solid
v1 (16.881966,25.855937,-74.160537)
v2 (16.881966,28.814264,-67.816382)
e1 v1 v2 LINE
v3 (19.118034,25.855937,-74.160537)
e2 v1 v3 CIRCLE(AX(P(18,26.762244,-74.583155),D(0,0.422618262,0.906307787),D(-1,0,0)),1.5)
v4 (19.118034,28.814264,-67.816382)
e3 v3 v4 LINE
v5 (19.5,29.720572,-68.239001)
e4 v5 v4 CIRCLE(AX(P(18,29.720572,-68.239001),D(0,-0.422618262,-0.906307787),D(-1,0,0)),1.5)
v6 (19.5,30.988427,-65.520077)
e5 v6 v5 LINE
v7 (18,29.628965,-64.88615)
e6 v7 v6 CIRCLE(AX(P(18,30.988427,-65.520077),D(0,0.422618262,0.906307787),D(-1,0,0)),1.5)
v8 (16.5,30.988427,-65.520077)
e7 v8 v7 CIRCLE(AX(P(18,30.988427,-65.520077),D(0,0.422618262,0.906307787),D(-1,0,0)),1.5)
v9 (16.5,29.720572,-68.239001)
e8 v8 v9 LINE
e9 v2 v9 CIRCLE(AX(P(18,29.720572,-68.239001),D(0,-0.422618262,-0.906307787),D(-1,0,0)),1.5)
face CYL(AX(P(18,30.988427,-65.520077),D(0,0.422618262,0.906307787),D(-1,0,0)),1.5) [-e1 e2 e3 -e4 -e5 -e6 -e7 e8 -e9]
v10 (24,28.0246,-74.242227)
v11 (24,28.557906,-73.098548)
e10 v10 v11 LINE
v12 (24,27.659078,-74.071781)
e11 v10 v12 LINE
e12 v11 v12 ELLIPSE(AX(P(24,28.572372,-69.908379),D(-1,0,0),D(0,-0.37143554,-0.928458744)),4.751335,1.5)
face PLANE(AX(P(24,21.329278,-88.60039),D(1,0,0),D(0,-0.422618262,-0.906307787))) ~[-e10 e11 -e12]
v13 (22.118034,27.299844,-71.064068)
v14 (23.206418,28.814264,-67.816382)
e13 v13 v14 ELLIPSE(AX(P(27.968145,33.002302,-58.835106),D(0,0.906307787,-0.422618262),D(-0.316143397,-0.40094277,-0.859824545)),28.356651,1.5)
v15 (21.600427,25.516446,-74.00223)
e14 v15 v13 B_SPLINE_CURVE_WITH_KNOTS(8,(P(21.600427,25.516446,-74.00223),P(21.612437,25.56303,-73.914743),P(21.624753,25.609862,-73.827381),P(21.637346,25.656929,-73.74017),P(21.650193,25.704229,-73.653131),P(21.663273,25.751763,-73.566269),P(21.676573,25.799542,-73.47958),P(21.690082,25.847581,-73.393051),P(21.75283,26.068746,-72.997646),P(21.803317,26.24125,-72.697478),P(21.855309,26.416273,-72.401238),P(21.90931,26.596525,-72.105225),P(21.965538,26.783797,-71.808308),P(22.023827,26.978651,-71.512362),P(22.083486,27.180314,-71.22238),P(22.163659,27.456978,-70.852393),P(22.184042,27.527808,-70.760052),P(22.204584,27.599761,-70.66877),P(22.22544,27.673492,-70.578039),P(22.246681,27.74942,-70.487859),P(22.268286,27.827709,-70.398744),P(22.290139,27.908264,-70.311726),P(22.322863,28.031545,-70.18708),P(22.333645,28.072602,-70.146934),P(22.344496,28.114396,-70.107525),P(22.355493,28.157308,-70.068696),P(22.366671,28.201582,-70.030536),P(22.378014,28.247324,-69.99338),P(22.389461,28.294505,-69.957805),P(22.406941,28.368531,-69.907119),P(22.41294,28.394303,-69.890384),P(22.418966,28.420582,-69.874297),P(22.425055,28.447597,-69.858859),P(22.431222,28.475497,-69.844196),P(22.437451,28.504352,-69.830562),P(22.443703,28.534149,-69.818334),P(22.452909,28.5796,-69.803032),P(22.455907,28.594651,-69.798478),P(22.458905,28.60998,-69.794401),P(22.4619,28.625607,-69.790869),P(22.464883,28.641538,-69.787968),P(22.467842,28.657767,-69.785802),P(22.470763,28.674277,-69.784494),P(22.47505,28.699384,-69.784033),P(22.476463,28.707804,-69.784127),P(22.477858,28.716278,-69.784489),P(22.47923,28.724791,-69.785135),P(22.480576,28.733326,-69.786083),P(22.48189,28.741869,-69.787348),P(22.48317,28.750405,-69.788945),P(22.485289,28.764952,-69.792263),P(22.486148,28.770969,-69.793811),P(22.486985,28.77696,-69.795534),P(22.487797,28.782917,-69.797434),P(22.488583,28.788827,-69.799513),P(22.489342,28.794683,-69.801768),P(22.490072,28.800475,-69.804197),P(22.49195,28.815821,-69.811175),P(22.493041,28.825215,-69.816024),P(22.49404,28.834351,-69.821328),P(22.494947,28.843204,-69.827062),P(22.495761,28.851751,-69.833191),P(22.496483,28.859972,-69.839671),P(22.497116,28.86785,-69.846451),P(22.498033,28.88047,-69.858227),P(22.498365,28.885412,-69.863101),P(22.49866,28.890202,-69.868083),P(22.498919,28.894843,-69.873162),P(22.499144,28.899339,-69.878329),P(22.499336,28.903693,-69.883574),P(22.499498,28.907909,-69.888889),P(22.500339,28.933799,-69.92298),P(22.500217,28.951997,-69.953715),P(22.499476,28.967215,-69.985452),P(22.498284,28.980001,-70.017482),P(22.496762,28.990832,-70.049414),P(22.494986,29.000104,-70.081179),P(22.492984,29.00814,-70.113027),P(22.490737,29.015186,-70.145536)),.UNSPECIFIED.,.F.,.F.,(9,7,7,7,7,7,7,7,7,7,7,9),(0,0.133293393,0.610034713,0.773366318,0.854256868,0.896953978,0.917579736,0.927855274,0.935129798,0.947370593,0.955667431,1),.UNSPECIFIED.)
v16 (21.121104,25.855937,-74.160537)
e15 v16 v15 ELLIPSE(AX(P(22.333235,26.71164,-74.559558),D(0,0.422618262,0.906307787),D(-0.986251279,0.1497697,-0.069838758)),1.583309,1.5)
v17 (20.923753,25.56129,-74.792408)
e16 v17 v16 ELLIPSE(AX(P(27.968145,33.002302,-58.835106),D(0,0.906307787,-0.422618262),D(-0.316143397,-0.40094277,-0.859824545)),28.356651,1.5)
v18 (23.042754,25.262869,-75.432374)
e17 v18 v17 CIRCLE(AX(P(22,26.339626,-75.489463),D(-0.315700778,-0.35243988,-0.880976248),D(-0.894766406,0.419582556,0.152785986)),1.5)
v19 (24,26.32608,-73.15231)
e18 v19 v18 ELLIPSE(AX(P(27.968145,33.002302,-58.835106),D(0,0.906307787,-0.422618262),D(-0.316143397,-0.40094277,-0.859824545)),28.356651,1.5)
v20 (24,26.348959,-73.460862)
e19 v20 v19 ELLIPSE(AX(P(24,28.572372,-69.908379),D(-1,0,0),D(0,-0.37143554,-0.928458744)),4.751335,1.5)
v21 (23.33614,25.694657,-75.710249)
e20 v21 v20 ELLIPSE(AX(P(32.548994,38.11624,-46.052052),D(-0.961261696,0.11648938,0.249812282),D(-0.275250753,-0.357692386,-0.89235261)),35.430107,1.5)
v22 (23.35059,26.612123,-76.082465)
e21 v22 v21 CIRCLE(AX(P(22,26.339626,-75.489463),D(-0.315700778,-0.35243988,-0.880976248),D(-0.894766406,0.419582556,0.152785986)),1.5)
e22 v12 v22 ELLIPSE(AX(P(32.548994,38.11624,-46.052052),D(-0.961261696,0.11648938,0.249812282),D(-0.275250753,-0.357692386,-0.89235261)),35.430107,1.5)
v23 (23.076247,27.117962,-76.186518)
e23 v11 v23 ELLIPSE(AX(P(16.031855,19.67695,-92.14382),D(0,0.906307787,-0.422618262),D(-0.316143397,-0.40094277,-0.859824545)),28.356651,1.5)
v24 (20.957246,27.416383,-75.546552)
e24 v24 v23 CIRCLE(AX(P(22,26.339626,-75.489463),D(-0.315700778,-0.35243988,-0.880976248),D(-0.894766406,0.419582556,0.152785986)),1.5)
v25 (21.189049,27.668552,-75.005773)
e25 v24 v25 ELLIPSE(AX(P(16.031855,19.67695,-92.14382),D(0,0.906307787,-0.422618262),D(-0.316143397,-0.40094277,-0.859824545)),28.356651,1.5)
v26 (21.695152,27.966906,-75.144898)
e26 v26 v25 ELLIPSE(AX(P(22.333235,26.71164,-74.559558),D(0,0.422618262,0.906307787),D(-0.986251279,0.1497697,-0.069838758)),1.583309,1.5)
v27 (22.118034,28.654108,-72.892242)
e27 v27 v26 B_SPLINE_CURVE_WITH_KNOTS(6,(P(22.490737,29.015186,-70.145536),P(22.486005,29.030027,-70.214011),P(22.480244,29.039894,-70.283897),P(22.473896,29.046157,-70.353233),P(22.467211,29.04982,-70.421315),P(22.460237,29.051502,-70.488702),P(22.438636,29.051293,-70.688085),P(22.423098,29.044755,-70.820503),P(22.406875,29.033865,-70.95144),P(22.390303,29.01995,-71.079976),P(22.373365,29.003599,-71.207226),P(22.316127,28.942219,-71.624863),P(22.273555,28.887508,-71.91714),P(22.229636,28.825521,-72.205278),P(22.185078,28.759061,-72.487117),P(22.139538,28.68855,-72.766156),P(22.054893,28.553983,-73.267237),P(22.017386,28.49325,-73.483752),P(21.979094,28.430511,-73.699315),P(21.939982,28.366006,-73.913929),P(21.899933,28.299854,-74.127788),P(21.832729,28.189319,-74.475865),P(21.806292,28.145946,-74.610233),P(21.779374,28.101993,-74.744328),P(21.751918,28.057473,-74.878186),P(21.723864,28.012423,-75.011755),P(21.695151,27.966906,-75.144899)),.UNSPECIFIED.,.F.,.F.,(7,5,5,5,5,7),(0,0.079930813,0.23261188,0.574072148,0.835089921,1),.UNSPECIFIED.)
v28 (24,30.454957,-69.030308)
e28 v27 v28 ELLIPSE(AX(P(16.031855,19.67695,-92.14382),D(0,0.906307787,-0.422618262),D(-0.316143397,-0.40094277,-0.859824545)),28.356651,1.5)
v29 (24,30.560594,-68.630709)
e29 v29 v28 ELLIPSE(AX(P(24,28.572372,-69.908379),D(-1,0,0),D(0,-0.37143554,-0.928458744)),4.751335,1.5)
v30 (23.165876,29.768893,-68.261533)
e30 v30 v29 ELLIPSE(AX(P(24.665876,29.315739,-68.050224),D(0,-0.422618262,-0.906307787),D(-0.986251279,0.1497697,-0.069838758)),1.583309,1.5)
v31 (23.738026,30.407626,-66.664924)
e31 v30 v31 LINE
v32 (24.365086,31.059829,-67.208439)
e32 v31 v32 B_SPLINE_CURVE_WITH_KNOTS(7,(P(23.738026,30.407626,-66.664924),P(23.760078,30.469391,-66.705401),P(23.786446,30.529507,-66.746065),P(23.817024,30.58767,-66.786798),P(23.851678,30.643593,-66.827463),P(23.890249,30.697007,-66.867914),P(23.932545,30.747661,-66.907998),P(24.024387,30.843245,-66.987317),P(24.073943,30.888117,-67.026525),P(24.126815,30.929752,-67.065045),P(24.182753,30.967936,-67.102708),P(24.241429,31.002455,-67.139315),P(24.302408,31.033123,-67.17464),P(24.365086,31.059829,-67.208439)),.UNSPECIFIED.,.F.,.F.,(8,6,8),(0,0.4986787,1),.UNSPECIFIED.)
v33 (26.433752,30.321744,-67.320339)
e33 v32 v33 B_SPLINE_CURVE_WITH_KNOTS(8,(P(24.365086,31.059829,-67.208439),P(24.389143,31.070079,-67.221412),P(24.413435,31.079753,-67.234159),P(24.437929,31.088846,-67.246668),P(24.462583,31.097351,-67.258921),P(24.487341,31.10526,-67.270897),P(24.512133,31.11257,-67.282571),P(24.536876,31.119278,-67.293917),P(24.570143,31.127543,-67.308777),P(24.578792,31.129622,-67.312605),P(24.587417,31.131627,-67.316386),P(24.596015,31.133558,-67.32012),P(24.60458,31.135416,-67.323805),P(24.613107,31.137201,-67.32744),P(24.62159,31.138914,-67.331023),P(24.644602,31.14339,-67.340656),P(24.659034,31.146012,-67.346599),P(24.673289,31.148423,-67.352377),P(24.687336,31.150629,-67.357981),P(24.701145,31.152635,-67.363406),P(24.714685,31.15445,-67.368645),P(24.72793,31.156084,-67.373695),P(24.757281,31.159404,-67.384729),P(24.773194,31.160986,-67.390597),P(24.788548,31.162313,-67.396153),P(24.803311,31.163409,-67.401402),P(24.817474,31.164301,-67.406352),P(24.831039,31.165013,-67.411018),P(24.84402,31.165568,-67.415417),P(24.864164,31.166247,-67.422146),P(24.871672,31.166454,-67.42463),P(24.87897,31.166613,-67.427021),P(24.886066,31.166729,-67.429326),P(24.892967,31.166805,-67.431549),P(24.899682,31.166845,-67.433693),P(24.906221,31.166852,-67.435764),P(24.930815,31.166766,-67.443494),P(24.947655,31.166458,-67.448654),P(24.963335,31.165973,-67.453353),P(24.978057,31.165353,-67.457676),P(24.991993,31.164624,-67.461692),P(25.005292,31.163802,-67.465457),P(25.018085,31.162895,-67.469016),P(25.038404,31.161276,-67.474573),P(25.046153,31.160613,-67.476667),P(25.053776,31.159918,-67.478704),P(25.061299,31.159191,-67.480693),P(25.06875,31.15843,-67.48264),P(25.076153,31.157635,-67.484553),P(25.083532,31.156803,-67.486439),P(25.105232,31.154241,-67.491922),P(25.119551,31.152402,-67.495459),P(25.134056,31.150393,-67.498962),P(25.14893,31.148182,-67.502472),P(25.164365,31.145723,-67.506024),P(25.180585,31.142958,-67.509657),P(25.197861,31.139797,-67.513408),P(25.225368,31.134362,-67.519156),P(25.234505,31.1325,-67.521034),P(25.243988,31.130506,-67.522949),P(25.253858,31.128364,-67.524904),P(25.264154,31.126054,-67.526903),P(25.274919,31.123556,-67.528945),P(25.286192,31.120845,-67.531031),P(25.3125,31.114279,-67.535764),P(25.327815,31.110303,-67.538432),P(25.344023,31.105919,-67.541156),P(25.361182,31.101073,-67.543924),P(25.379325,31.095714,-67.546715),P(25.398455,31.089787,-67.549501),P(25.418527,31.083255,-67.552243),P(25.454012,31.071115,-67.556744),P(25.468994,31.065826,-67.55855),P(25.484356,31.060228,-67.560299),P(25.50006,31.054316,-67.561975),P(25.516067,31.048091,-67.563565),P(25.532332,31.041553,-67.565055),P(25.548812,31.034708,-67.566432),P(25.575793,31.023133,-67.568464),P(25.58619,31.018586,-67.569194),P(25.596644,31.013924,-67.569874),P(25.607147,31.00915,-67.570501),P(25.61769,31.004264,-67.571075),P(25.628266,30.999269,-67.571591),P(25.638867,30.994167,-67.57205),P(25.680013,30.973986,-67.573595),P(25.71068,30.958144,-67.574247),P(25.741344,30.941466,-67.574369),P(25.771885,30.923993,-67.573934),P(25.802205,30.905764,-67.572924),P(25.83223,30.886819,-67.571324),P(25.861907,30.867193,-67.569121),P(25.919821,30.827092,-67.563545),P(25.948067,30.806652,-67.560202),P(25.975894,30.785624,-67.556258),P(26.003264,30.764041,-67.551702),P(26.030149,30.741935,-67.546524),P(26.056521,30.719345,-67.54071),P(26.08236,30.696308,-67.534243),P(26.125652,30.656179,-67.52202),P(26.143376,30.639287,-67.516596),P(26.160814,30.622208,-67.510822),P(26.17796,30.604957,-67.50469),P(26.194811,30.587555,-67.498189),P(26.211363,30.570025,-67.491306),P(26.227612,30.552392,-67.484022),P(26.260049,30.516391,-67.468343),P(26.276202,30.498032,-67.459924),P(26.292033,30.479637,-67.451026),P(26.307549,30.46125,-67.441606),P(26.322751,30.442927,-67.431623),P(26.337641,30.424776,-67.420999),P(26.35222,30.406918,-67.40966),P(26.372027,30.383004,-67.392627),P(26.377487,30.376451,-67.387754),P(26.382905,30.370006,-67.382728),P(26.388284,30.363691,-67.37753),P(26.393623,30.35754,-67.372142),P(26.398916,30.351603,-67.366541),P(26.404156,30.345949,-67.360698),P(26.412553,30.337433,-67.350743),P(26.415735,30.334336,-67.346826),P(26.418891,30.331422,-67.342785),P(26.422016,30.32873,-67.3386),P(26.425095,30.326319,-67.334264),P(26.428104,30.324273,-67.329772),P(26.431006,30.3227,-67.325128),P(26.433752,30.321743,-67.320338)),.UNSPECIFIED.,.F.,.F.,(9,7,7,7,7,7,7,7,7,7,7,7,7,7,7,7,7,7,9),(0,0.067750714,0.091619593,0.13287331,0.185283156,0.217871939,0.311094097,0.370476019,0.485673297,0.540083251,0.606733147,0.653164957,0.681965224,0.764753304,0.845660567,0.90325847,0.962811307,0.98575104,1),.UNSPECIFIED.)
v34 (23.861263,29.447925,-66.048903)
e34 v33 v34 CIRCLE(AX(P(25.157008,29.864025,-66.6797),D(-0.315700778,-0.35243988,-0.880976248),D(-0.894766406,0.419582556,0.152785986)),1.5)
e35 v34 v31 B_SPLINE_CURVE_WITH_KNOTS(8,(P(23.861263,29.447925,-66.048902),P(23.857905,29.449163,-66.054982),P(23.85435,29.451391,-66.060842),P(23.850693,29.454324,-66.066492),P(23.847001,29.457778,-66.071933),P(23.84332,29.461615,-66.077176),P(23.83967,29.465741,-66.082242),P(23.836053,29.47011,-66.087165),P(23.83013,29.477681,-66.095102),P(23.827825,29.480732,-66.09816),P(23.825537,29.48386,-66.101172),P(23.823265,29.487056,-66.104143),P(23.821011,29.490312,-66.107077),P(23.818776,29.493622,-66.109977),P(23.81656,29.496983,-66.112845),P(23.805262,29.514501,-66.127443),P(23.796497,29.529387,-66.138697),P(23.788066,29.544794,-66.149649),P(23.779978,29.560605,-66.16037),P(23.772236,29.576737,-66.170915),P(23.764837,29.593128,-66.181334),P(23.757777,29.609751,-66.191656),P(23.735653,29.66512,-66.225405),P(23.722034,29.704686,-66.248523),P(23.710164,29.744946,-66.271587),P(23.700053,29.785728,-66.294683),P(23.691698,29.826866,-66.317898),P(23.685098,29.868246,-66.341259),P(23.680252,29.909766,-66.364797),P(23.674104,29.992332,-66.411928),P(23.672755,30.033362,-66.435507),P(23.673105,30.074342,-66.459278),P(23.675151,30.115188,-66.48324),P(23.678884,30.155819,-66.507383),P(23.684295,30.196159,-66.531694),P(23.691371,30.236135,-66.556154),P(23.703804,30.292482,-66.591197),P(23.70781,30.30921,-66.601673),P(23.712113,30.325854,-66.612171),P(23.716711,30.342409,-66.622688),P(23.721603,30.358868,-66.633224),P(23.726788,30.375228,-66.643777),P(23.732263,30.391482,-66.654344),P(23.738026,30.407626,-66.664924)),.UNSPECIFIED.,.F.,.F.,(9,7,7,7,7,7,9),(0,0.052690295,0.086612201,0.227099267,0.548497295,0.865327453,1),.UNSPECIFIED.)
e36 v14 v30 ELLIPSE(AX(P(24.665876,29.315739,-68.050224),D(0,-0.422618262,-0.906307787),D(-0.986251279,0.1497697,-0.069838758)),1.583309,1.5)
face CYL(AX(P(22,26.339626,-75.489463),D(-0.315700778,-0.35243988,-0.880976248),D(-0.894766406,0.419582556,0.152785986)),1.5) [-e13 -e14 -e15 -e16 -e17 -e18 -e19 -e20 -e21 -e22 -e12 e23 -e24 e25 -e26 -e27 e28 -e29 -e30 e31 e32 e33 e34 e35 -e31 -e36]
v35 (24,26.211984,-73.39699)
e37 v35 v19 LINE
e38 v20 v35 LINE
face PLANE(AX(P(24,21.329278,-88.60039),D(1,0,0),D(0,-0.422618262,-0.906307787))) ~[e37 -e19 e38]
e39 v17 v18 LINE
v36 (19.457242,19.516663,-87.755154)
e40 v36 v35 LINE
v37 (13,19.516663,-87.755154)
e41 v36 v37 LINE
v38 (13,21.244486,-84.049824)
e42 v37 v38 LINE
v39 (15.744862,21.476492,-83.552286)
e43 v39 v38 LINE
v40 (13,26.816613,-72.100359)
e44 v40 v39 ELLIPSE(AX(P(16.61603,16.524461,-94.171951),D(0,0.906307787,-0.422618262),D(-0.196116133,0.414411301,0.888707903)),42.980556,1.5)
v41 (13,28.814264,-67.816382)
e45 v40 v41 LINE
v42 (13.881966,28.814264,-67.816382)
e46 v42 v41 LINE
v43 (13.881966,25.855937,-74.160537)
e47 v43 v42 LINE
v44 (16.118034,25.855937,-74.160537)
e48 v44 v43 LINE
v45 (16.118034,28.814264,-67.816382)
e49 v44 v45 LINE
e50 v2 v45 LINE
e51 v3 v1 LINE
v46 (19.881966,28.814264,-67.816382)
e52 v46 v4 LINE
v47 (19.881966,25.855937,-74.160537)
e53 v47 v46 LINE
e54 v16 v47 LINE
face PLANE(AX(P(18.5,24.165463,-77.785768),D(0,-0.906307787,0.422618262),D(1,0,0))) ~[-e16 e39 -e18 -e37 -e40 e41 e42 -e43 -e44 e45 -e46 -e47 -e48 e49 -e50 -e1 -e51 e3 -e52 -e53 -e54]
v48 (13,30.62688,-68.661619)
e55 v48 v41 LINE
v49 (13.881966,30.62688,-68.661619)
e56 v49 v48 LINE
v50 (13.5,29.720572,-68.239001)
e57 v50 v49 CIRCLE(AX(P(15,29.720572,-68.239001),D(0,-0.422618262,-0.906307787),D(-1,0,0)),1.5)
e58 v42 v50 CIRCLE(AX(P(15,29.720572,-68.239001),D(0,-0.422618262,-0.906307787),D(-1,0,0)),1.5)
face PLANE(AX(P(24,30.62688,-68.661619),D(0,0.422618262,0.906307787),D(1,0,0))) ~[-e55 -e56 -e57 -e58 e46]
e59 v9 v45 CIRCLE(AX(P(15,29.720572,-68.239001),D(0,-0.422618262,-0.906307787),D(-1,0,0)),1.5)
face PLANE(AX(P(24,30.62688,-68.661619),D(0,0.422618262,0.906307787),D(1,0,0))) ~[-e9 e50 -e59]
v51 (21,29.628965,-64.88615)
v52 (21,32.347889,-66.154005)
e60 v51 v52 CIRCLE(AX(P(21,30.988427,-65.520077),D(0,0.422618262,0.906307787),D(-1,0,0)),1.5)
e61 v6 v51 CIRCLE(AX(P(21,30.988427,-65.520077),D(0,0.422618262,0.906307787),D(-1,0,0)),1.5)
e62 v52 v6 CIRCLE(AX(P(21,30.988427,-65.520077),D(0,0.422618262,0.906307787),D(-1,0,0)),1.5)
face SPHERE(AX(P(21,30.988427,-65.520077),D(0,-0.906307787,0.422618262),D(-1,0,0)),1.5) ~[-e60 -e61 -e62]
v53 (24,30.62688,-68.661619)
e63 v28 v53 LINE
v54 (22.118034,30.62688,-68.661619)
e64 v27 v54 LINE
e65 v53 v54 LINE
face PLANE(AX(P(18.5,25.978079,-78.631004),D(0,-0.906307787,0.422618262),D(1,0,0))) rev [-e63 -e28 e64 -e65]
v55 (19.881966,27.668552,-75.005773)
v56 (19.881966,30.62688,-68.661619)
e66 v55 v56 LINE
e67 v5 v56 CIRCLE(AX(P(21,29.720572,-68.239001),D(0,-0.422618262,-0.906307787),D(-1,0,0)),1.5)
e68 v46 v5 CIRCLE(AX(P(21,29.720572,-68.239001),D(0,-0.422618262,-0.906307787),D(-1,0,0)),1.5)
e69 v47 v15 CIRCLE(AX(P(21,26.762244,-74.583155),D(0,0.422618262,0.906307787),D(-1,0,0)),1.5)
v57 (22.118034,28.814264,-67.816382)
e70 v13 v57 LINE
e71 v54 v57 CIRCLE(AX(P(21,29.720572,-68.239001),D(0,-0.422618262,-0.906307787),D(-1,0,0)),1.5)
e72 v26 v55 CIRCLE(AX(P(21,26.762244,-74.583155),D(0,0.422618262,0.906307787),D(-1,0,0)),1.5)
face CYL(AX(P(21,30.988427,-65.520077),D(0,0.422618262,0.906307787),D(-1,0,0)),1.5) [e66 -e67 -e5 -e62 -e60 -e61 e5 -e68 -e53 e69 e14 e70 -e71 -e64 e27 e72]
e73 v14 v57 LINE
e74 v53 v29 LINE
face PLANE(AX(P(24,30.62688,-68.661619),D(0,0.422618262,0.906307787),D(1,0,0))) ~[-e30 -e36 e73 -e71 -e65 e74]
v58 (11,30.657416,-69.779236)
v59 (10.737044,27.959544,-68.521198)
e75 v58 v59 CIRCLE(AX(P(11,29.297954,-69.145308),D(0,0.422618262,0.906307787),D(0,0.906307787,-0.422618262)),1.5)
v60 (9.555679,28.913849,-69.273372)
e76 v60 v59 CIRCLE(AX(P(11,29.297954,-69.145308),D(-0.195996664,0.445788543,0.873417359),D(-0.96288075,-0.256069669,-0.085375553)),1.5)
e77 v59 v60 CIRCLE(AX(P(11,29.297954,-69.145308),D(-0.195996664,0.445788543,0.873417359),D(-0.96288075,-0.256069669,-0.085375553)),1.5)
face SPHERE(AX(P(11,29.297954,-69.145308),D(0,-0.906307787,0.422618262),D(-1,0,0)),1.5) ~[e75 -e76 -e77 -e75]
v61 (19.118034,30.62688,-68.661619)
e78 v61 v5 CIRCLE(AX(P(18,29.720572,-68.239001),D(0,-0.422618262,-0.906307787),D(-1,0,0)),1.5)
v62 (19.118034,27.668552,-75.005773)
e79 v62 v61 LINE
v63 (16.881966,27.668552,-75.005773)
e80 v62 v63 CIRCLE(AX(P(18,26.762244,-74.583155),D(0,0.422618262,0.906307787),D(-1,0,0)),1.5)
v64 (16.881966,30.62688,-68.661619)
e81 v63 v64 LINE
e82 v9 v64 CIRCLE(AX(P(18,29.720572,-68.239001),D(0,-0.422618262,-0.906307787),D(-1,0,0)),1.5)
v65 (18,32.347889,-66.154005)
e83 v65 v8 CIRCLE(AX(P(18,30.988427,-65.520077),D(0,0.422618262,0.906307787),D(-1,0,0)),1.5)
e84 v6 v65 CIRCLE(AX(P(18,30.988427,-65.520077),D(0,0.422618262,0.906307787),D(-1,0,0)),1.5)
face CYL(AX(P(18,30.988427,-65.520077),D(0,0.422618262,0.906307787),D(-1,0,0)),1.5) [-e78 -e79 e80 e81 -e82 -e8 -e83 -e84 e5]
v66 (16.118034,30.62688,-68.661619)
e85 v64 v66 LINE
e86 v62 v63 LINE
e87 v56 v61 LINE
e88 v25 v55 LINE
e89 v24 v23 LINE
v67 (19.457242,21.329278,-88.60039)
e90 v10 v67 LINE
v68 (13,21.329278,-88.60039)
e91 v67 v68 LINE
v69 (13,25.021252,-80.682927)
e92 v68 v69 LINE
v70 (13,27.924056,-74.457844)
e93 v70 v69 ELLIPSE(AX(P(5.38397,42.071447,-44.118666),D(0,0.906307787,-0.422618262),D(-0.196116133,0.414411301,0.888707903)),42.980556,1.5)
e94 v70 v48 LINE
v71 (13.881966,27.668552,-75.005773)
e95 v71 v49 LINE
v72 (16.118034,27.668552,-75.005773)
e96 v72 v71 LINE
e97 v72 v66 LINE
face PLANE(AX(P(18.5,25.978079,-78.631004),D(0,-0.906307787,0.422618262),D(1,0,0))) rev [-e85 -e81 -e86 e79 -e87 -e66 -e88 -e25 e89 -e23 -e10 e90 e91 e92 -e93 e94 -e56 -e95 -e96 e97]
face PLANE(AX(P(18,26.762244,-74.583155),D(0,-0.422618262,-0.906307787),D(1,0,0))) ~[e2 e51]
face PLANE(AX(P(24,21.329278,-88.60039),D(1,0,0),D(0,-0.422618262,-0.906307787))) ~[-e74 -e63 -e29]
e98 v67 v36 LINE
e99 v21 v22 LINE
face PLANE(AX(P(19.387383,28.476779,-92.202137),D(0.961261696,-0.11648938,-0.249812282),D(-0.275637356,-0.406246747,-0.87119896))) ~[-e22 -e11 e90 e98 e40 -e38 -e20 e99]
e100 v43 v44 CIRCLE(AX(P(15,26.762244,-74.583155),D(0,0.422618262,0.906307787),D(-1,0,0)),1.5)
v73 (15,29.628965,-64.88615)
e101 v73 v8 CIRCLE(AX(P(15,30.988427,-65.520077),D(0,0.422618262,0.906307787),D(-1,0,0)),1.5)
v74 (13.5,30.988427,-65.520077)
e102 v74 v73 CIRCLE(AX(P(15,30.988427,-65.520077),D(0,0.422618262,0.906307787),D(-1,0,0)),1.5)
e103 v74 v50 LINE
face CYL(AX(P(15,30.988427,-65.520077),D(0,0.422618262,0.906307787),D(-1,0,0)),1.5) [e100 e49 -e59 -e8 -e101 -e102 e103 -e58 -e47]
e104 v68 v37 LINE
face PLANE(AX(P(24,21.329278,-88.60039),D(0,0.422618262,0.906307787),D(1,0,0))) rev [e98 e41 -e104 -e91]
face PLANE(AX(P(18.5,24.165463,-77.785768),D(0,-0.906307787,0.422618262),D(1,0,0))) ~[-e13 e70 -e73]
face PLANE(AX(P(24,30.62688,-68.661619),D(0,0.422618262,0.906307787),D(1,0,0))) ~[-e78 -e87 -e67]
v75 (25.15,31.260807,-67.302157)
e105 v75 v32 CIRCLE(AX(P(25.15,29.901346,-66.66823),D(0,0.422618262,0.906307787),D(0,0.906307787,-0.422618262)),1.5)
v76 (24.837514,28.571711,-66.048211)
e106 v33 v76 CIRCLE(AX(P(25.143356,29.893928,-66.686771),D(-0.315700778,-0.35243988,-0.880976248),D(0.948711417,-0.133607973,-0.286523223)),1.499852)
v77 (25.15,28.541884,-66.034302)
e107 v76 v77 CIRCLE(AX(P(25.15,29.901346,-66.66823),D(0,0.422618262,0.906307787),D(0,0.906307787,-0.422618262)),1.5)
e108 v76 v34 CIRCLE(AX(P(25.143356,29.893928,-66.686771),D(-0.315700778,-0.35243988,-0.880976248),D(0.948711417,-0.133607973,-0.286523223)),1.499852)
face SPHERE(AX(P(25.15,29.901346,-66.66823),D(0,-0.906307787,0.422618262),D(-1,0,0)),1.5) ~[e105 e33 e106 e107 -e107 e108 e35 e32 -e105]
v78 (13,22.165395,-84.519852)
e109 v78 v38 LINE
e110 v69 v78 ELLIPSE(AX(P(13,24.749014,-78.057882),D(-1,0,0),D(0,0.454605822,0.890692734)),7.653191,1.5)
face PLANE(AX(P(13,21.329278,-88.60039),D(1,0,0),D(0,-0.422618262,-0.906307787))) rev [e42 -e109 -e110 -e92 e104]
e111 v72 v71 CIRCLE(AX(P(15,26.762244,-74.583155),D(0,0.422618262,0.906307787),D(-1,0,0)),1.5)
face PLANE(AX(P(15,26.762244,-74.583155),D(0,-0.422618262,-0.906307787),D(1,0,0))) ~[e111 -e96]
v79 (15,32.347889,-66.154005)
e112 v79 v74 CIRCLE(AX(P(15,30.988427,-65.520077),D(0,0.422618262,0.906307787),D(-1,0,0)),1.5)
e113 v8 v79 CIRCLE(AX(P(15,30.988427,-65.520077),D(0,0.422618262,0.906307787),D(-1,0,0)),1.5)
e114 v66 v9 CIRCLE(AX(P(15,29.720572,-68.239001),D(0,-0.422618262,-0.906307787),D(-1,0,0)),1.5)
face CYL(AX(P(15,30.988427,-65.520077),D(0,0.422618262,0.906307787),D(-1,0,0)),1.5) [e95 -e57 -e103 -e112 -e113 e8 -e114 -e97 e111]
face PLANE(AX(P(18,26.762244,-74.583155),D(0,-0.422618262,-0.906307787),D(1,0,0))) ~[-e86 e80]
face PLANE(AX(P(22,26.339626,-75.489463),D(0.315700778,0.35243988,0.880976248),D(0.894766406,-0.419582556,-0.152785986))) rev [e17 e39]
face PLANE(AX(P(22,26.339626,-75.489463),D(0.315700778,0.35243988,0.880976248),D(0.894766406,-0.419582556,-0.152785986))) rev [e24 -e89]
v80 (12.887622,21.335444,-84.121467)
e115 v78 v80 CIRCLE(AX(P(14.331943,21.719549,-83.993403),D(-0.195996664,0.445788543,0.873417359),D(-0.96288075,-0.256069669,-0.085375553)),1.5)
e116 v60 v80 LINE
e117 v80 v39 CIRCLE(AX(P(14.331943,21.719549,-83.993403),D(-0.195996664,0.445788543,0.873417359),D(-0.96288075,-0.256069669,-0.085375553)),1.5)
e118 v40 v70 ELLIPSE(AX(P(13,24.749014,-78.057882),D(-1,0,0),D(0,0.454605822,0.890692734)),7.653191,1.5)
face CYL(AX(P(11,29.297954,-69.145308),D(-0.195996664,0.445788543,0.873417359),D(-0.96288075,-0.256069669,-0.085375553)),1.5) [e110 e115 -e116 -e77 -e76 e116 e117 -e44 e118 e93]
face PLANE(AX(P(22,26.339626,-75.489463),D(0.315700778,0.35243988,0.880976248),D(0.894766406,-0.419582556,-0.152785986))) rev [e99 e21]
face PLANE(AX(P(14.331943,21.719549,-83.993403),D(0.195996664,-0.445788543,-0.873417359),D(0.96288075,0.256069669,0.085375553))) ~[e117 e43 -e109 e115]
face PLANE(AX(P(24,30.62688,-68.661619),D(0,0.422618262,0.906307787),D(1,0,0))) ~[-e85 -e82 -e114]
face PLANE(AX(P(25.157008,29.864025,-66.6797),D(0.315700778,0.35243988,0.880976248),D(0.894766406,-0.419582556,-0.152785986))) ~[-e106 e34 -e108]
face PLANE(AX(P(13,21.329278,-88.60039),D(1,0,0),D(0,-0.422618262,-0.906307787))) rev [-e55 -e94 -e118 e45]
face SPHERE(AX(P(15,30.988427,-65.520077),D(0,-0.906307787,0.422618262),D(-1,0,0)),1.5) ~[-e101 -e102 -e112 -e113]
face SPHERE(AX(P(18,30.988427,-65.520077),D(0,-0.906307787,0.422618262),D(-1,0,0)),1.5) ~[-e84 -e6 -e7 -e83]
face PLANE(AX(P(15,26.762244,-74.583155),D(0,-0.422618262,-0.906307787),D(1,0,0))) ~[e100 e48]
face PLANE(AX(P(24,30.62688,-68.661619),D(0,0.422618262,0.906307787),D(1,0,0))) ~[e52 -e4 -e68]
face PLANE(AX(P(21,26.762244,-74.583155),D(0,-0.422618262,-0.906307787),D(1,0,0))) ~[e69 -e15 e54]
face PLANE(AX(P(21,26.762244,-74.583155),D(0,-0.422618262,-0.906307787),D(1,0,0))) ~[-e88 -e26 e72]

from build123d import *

# Parameters (mm, degrees)
CYLINDER076_R                     = 1.5
CYLINDER076_DEPTH                 = 10
CYLINDER076_ROLL_ANGLE            = -86.804178
CYLINDER076_PITCH_ANGLE           = 18.403125
CYLINDER076_PLACEMENT_ANGLE       = 19.43972
CYLINDER074_R                     = 1.5
CYLINDER074_DEPTH                 = 10
CYLINDER075_R                     = 1.5
CYLINDER075_DEPTH                 = 10
CYLINDER078_R                     = 1.5
CYLINDER078_DEPTH                 = 10
CYLINDER077_R                     = 1.5
CYLINDER077_DEPTH                 = 17
CYLINDER077_ROLL_ANGLE            = 87.960425
CYLINDER077_PITCH_ANGLE           = -11.302952
CYLINDER077_PLACEMENT_ANGLE       = -10.91002
BOX026_W                          = 10
BOX026_H                          = 19
BOX026_DEPTH                      = 10
BOX026_PLACEMENT_ANGLE            = 16
BOX025_W                          = 11
BOX025_H                          = 22
BOX025_DEPTH                      = 2
PART_MIRRORING003_PLACEMENT_ANGLE = 65


with BuildPart() as cylindre072:
    # Cylinder076 → Cylinder076 (new body)
    with BuildSketch(Plane.XY):
        Circle(CYLINDER076_R)
    extrude(amount=CYLINDER076_DEPTH)


with BuildPart() as cylindre072_1:
    # Cylinder076 roll: moved
    add(cylindre072.part.rotate(Axis((0, 0, 0), (1, 0, 0)), CYLINDER076_ROLL_ANGLE))


with BuildPart() as cylindre072_2:
    # Cylinder076 pitch: moved
    add(cylindre072_1.part.rotate(Axis((0, 0, 0), (0, 1, 0)), CYLINDER076_PITCH_ANGLE))


with BuildPart() as cylindre072_3:
    # Cylinder076 placement: moved
    add(cylindre072_2.part.moved(Location((-5, 26, -135))).rotate(Axis((-5, 26, -135), (0, 0, 1)), CYLINDER076_PLACEMENT_ANGLE))


with BuildPart() as sph_re004:
    # Sphere004 → Sphere004 (revolve)
    with BuildSketch(Plane(origin=(-8.15, 35.5, -134.5), x_dir=(1, 0, 0), z_dir=(0, -1, 0))):
        with BuildLine():
            ThreePointArc((0, -1.5), (1.5, 0), (0, 1.5))
            Line((0, 1.5), (0, -1.5))
        make_face()
    revolve(axis=Axis((-8.15, 35.5, -134.5), (0, 0, 1)))


with BuildPart() as cylindre070:
    # Cylinder074 → Cylinder074 (new body)
    with BuildSketch(Plane(origin=(-4, 37, -135), x_dir=(1, 0, 0), z_dir=(0, -1, 0))):
        Circle(CYLINDER074_R)
    extrude(amount=CYLINDER074_DEPTH)


with BuildPart() as sph_re003:
    # Sphere003 → Sphere003 (revolve)
    with BuildSketch(Plane(origin=(-4, 37, -135), x_dir=(1, 0, 0), z_dir=(0, -1, 0))):
        with BuildLine():
            ThreePointArc((0, -1.5), (1.5, 0), (0, 1.5))
            Line((0, 1.5), (0, -1.5))
        make_face()
    revolve(axis=Axis((-4, 37, -135), (0, 0, 1)))


with BuildPart() as cylindre071:
    # Cylinder075 → Cylinder075 (new body)
    with BuildSketch(Plane(origin=(-1, 37, -135), x_dir=(1, 0, 0), z_dir=(0, -1, 0))):
        Circle(CYLINDER075_R)
    extrude(amount=CYLINDER075_DEPTH)


with BuildPart() as sph_re002:
    # Sphere002 → Sphere002 (revolve)
    with BuildSketch(Plane(origin=(-1, 37, -135), x_dir=(1, 0, 0), z_dir=(0, -1, 0))):
        with BuildLine():
            ThreePointArc((0, -1.5), (1.5, 0), (0, 1.5))
            Line((0, 1.5), (0, -1.5))
        make_face()
    revolve(axis=Axis((-1, 37, -135), (0, 0, 1)))


with BuildPart() as cylindre074:
    # Cylinder078 → Cylinder078 (new body)
    with BuildSketch(Plane(origin=(2, 37, -135), x_dir=(1, 0, 0), z_dir=(0, -1, 0))):
        Circle(CYLINDER078_R)
    extrude(amount=CYLINDER078_DEPTH)


with BuildPart() as sph_re001:
    # Sphere001 → Sphere001 (revolve)
    with BuildSketch(Plane(origin=(2, 37, -135), x_dir=(1, 0, 0), z_dir=(0, -1, 0))):
        with BuildLine():
            ThreePointArc((0, -1.5), (1.5, 0), (0, 1.5))
            Line((0, 1.5), (0, -1.5))
        make_face()
    revolve(axis=Axis((2, 37, -135), (0, 0, 1)))


with BuildPart() as cylindre073:
    # Cylinder077 → Cylinder077 (new body)
    with BuildSketch(Plane.XY):
        Circle(CYLINDER077_R)
    extrude(amount=CYLINDER077_DEPTH)


with BuildPart() as cylindre073_1:
    # Cylinder077 roll: moved
    add(cylindre073.part.rotate(Axis((0, 0, 0), (1, 0, 0)), CYLINDER077_ROLL_ANGLE))


with BuildPart() as cylindre073_2:
    # Cylinder077 pitch: moved
    add(cylindre073_1.part.rotate(Axis((0, 0, 0), (0, 1, 0)), CYLINDER077_PITCH_ANGLE))


with BuildPart() as cylindre073_3:
    # Cylinder077 placement: moved
    add(cylindre073_2.part.moved(Location((6, 33, -135))).rotate(Axis((6, 33, -135), (0, 0, 1)), CYLINDER077_PLACEMENT_ANGLE))


with BuildPart() as sph_re005:
    # Sphere005 → Sphere005 (revolve)
    with BuildSketch(Plane(origin=(6, 33, -135), x_dir=(1, 0, 0), z_dir=(0, -1, 0))):
        with BuildLine():
            ThreePointArc((0, -1.5), (1.5, 0), (0, 1.5))
            Line((0, 1.5), (0, -1.5))
        make_face()
    revolve(axis=Axis((6, 33, -135), (0, 0, 1)))


with BuildPart() as cube026:
    # Box026 → Box026 (new body)
    with BuildSketch(Plane.XY):
        with Locations((5, 9.5)):
            Rectangle(BOX026_W, BOX026_H)
    extrude(amount=BOX026_DEPTH)


with BuildPart() as cube026_1:
    # Box026 placement: moved
    add(cube026.part.moved(Location((-12, 9, -144))).rotate(Axis((-12, 9, -144), (0, 0, 1)), BOX026_PLACEMENT_ANGLE))


with BuildPart() as fusion040:
    # Box025 → Box025 (new body)
    with BuildSketch(Plane(origin=(-7, 12, -136), x_dir=(1, 0, 0), z_dir=(0, 0, 1))):
        with Locations((5.5, 11)):
            Rectangle(BOX025_W, BOX025_H)
    extrude(amount=BOX025_DEPTH)

    # Cut042: cut Cube026
    add(cube026_1.part, mode=Mode.SUBTRACT)

    # Fusion040: union Cylindre072, Sphère004, Cylindre070, Sphère003, Cylindre071, Sphère002, Cylindre074, Sphère001, Cylindre073, Sphère005
    add(cylindre072_3.part)
    add(sph_re004.part)
    add(cylindre070.part)
    add(sph_re003.part)
    add(cylindre071.part)
    add(sph_re002.part)
    add(cylindre074.part)
    add(sph_re001.part)
    add(cylindre073_3.part)
    add(sph_re005.part)


with BuildPart() as part_mirroring003:
    # Part__Mirroring003: instance of Fusion040
    add(fusion040.part.mirror(Plane(origin=(0, 0, 0), x_dir=(0, -1, 0), z_dir=(1, 0, 0))))


with BuildPart() as part_mirroring003_1:
    # Part__Mirroring003 placement: moved
    add(part_mirroring003.part.moved(Location((17, -107, -42))).rotate(Axis((17, -107, -42), (1, 0, 0)), PART_MIRRORING003_PLACEMENT_ANGLE))


solid = part_mirroring003_1.part
